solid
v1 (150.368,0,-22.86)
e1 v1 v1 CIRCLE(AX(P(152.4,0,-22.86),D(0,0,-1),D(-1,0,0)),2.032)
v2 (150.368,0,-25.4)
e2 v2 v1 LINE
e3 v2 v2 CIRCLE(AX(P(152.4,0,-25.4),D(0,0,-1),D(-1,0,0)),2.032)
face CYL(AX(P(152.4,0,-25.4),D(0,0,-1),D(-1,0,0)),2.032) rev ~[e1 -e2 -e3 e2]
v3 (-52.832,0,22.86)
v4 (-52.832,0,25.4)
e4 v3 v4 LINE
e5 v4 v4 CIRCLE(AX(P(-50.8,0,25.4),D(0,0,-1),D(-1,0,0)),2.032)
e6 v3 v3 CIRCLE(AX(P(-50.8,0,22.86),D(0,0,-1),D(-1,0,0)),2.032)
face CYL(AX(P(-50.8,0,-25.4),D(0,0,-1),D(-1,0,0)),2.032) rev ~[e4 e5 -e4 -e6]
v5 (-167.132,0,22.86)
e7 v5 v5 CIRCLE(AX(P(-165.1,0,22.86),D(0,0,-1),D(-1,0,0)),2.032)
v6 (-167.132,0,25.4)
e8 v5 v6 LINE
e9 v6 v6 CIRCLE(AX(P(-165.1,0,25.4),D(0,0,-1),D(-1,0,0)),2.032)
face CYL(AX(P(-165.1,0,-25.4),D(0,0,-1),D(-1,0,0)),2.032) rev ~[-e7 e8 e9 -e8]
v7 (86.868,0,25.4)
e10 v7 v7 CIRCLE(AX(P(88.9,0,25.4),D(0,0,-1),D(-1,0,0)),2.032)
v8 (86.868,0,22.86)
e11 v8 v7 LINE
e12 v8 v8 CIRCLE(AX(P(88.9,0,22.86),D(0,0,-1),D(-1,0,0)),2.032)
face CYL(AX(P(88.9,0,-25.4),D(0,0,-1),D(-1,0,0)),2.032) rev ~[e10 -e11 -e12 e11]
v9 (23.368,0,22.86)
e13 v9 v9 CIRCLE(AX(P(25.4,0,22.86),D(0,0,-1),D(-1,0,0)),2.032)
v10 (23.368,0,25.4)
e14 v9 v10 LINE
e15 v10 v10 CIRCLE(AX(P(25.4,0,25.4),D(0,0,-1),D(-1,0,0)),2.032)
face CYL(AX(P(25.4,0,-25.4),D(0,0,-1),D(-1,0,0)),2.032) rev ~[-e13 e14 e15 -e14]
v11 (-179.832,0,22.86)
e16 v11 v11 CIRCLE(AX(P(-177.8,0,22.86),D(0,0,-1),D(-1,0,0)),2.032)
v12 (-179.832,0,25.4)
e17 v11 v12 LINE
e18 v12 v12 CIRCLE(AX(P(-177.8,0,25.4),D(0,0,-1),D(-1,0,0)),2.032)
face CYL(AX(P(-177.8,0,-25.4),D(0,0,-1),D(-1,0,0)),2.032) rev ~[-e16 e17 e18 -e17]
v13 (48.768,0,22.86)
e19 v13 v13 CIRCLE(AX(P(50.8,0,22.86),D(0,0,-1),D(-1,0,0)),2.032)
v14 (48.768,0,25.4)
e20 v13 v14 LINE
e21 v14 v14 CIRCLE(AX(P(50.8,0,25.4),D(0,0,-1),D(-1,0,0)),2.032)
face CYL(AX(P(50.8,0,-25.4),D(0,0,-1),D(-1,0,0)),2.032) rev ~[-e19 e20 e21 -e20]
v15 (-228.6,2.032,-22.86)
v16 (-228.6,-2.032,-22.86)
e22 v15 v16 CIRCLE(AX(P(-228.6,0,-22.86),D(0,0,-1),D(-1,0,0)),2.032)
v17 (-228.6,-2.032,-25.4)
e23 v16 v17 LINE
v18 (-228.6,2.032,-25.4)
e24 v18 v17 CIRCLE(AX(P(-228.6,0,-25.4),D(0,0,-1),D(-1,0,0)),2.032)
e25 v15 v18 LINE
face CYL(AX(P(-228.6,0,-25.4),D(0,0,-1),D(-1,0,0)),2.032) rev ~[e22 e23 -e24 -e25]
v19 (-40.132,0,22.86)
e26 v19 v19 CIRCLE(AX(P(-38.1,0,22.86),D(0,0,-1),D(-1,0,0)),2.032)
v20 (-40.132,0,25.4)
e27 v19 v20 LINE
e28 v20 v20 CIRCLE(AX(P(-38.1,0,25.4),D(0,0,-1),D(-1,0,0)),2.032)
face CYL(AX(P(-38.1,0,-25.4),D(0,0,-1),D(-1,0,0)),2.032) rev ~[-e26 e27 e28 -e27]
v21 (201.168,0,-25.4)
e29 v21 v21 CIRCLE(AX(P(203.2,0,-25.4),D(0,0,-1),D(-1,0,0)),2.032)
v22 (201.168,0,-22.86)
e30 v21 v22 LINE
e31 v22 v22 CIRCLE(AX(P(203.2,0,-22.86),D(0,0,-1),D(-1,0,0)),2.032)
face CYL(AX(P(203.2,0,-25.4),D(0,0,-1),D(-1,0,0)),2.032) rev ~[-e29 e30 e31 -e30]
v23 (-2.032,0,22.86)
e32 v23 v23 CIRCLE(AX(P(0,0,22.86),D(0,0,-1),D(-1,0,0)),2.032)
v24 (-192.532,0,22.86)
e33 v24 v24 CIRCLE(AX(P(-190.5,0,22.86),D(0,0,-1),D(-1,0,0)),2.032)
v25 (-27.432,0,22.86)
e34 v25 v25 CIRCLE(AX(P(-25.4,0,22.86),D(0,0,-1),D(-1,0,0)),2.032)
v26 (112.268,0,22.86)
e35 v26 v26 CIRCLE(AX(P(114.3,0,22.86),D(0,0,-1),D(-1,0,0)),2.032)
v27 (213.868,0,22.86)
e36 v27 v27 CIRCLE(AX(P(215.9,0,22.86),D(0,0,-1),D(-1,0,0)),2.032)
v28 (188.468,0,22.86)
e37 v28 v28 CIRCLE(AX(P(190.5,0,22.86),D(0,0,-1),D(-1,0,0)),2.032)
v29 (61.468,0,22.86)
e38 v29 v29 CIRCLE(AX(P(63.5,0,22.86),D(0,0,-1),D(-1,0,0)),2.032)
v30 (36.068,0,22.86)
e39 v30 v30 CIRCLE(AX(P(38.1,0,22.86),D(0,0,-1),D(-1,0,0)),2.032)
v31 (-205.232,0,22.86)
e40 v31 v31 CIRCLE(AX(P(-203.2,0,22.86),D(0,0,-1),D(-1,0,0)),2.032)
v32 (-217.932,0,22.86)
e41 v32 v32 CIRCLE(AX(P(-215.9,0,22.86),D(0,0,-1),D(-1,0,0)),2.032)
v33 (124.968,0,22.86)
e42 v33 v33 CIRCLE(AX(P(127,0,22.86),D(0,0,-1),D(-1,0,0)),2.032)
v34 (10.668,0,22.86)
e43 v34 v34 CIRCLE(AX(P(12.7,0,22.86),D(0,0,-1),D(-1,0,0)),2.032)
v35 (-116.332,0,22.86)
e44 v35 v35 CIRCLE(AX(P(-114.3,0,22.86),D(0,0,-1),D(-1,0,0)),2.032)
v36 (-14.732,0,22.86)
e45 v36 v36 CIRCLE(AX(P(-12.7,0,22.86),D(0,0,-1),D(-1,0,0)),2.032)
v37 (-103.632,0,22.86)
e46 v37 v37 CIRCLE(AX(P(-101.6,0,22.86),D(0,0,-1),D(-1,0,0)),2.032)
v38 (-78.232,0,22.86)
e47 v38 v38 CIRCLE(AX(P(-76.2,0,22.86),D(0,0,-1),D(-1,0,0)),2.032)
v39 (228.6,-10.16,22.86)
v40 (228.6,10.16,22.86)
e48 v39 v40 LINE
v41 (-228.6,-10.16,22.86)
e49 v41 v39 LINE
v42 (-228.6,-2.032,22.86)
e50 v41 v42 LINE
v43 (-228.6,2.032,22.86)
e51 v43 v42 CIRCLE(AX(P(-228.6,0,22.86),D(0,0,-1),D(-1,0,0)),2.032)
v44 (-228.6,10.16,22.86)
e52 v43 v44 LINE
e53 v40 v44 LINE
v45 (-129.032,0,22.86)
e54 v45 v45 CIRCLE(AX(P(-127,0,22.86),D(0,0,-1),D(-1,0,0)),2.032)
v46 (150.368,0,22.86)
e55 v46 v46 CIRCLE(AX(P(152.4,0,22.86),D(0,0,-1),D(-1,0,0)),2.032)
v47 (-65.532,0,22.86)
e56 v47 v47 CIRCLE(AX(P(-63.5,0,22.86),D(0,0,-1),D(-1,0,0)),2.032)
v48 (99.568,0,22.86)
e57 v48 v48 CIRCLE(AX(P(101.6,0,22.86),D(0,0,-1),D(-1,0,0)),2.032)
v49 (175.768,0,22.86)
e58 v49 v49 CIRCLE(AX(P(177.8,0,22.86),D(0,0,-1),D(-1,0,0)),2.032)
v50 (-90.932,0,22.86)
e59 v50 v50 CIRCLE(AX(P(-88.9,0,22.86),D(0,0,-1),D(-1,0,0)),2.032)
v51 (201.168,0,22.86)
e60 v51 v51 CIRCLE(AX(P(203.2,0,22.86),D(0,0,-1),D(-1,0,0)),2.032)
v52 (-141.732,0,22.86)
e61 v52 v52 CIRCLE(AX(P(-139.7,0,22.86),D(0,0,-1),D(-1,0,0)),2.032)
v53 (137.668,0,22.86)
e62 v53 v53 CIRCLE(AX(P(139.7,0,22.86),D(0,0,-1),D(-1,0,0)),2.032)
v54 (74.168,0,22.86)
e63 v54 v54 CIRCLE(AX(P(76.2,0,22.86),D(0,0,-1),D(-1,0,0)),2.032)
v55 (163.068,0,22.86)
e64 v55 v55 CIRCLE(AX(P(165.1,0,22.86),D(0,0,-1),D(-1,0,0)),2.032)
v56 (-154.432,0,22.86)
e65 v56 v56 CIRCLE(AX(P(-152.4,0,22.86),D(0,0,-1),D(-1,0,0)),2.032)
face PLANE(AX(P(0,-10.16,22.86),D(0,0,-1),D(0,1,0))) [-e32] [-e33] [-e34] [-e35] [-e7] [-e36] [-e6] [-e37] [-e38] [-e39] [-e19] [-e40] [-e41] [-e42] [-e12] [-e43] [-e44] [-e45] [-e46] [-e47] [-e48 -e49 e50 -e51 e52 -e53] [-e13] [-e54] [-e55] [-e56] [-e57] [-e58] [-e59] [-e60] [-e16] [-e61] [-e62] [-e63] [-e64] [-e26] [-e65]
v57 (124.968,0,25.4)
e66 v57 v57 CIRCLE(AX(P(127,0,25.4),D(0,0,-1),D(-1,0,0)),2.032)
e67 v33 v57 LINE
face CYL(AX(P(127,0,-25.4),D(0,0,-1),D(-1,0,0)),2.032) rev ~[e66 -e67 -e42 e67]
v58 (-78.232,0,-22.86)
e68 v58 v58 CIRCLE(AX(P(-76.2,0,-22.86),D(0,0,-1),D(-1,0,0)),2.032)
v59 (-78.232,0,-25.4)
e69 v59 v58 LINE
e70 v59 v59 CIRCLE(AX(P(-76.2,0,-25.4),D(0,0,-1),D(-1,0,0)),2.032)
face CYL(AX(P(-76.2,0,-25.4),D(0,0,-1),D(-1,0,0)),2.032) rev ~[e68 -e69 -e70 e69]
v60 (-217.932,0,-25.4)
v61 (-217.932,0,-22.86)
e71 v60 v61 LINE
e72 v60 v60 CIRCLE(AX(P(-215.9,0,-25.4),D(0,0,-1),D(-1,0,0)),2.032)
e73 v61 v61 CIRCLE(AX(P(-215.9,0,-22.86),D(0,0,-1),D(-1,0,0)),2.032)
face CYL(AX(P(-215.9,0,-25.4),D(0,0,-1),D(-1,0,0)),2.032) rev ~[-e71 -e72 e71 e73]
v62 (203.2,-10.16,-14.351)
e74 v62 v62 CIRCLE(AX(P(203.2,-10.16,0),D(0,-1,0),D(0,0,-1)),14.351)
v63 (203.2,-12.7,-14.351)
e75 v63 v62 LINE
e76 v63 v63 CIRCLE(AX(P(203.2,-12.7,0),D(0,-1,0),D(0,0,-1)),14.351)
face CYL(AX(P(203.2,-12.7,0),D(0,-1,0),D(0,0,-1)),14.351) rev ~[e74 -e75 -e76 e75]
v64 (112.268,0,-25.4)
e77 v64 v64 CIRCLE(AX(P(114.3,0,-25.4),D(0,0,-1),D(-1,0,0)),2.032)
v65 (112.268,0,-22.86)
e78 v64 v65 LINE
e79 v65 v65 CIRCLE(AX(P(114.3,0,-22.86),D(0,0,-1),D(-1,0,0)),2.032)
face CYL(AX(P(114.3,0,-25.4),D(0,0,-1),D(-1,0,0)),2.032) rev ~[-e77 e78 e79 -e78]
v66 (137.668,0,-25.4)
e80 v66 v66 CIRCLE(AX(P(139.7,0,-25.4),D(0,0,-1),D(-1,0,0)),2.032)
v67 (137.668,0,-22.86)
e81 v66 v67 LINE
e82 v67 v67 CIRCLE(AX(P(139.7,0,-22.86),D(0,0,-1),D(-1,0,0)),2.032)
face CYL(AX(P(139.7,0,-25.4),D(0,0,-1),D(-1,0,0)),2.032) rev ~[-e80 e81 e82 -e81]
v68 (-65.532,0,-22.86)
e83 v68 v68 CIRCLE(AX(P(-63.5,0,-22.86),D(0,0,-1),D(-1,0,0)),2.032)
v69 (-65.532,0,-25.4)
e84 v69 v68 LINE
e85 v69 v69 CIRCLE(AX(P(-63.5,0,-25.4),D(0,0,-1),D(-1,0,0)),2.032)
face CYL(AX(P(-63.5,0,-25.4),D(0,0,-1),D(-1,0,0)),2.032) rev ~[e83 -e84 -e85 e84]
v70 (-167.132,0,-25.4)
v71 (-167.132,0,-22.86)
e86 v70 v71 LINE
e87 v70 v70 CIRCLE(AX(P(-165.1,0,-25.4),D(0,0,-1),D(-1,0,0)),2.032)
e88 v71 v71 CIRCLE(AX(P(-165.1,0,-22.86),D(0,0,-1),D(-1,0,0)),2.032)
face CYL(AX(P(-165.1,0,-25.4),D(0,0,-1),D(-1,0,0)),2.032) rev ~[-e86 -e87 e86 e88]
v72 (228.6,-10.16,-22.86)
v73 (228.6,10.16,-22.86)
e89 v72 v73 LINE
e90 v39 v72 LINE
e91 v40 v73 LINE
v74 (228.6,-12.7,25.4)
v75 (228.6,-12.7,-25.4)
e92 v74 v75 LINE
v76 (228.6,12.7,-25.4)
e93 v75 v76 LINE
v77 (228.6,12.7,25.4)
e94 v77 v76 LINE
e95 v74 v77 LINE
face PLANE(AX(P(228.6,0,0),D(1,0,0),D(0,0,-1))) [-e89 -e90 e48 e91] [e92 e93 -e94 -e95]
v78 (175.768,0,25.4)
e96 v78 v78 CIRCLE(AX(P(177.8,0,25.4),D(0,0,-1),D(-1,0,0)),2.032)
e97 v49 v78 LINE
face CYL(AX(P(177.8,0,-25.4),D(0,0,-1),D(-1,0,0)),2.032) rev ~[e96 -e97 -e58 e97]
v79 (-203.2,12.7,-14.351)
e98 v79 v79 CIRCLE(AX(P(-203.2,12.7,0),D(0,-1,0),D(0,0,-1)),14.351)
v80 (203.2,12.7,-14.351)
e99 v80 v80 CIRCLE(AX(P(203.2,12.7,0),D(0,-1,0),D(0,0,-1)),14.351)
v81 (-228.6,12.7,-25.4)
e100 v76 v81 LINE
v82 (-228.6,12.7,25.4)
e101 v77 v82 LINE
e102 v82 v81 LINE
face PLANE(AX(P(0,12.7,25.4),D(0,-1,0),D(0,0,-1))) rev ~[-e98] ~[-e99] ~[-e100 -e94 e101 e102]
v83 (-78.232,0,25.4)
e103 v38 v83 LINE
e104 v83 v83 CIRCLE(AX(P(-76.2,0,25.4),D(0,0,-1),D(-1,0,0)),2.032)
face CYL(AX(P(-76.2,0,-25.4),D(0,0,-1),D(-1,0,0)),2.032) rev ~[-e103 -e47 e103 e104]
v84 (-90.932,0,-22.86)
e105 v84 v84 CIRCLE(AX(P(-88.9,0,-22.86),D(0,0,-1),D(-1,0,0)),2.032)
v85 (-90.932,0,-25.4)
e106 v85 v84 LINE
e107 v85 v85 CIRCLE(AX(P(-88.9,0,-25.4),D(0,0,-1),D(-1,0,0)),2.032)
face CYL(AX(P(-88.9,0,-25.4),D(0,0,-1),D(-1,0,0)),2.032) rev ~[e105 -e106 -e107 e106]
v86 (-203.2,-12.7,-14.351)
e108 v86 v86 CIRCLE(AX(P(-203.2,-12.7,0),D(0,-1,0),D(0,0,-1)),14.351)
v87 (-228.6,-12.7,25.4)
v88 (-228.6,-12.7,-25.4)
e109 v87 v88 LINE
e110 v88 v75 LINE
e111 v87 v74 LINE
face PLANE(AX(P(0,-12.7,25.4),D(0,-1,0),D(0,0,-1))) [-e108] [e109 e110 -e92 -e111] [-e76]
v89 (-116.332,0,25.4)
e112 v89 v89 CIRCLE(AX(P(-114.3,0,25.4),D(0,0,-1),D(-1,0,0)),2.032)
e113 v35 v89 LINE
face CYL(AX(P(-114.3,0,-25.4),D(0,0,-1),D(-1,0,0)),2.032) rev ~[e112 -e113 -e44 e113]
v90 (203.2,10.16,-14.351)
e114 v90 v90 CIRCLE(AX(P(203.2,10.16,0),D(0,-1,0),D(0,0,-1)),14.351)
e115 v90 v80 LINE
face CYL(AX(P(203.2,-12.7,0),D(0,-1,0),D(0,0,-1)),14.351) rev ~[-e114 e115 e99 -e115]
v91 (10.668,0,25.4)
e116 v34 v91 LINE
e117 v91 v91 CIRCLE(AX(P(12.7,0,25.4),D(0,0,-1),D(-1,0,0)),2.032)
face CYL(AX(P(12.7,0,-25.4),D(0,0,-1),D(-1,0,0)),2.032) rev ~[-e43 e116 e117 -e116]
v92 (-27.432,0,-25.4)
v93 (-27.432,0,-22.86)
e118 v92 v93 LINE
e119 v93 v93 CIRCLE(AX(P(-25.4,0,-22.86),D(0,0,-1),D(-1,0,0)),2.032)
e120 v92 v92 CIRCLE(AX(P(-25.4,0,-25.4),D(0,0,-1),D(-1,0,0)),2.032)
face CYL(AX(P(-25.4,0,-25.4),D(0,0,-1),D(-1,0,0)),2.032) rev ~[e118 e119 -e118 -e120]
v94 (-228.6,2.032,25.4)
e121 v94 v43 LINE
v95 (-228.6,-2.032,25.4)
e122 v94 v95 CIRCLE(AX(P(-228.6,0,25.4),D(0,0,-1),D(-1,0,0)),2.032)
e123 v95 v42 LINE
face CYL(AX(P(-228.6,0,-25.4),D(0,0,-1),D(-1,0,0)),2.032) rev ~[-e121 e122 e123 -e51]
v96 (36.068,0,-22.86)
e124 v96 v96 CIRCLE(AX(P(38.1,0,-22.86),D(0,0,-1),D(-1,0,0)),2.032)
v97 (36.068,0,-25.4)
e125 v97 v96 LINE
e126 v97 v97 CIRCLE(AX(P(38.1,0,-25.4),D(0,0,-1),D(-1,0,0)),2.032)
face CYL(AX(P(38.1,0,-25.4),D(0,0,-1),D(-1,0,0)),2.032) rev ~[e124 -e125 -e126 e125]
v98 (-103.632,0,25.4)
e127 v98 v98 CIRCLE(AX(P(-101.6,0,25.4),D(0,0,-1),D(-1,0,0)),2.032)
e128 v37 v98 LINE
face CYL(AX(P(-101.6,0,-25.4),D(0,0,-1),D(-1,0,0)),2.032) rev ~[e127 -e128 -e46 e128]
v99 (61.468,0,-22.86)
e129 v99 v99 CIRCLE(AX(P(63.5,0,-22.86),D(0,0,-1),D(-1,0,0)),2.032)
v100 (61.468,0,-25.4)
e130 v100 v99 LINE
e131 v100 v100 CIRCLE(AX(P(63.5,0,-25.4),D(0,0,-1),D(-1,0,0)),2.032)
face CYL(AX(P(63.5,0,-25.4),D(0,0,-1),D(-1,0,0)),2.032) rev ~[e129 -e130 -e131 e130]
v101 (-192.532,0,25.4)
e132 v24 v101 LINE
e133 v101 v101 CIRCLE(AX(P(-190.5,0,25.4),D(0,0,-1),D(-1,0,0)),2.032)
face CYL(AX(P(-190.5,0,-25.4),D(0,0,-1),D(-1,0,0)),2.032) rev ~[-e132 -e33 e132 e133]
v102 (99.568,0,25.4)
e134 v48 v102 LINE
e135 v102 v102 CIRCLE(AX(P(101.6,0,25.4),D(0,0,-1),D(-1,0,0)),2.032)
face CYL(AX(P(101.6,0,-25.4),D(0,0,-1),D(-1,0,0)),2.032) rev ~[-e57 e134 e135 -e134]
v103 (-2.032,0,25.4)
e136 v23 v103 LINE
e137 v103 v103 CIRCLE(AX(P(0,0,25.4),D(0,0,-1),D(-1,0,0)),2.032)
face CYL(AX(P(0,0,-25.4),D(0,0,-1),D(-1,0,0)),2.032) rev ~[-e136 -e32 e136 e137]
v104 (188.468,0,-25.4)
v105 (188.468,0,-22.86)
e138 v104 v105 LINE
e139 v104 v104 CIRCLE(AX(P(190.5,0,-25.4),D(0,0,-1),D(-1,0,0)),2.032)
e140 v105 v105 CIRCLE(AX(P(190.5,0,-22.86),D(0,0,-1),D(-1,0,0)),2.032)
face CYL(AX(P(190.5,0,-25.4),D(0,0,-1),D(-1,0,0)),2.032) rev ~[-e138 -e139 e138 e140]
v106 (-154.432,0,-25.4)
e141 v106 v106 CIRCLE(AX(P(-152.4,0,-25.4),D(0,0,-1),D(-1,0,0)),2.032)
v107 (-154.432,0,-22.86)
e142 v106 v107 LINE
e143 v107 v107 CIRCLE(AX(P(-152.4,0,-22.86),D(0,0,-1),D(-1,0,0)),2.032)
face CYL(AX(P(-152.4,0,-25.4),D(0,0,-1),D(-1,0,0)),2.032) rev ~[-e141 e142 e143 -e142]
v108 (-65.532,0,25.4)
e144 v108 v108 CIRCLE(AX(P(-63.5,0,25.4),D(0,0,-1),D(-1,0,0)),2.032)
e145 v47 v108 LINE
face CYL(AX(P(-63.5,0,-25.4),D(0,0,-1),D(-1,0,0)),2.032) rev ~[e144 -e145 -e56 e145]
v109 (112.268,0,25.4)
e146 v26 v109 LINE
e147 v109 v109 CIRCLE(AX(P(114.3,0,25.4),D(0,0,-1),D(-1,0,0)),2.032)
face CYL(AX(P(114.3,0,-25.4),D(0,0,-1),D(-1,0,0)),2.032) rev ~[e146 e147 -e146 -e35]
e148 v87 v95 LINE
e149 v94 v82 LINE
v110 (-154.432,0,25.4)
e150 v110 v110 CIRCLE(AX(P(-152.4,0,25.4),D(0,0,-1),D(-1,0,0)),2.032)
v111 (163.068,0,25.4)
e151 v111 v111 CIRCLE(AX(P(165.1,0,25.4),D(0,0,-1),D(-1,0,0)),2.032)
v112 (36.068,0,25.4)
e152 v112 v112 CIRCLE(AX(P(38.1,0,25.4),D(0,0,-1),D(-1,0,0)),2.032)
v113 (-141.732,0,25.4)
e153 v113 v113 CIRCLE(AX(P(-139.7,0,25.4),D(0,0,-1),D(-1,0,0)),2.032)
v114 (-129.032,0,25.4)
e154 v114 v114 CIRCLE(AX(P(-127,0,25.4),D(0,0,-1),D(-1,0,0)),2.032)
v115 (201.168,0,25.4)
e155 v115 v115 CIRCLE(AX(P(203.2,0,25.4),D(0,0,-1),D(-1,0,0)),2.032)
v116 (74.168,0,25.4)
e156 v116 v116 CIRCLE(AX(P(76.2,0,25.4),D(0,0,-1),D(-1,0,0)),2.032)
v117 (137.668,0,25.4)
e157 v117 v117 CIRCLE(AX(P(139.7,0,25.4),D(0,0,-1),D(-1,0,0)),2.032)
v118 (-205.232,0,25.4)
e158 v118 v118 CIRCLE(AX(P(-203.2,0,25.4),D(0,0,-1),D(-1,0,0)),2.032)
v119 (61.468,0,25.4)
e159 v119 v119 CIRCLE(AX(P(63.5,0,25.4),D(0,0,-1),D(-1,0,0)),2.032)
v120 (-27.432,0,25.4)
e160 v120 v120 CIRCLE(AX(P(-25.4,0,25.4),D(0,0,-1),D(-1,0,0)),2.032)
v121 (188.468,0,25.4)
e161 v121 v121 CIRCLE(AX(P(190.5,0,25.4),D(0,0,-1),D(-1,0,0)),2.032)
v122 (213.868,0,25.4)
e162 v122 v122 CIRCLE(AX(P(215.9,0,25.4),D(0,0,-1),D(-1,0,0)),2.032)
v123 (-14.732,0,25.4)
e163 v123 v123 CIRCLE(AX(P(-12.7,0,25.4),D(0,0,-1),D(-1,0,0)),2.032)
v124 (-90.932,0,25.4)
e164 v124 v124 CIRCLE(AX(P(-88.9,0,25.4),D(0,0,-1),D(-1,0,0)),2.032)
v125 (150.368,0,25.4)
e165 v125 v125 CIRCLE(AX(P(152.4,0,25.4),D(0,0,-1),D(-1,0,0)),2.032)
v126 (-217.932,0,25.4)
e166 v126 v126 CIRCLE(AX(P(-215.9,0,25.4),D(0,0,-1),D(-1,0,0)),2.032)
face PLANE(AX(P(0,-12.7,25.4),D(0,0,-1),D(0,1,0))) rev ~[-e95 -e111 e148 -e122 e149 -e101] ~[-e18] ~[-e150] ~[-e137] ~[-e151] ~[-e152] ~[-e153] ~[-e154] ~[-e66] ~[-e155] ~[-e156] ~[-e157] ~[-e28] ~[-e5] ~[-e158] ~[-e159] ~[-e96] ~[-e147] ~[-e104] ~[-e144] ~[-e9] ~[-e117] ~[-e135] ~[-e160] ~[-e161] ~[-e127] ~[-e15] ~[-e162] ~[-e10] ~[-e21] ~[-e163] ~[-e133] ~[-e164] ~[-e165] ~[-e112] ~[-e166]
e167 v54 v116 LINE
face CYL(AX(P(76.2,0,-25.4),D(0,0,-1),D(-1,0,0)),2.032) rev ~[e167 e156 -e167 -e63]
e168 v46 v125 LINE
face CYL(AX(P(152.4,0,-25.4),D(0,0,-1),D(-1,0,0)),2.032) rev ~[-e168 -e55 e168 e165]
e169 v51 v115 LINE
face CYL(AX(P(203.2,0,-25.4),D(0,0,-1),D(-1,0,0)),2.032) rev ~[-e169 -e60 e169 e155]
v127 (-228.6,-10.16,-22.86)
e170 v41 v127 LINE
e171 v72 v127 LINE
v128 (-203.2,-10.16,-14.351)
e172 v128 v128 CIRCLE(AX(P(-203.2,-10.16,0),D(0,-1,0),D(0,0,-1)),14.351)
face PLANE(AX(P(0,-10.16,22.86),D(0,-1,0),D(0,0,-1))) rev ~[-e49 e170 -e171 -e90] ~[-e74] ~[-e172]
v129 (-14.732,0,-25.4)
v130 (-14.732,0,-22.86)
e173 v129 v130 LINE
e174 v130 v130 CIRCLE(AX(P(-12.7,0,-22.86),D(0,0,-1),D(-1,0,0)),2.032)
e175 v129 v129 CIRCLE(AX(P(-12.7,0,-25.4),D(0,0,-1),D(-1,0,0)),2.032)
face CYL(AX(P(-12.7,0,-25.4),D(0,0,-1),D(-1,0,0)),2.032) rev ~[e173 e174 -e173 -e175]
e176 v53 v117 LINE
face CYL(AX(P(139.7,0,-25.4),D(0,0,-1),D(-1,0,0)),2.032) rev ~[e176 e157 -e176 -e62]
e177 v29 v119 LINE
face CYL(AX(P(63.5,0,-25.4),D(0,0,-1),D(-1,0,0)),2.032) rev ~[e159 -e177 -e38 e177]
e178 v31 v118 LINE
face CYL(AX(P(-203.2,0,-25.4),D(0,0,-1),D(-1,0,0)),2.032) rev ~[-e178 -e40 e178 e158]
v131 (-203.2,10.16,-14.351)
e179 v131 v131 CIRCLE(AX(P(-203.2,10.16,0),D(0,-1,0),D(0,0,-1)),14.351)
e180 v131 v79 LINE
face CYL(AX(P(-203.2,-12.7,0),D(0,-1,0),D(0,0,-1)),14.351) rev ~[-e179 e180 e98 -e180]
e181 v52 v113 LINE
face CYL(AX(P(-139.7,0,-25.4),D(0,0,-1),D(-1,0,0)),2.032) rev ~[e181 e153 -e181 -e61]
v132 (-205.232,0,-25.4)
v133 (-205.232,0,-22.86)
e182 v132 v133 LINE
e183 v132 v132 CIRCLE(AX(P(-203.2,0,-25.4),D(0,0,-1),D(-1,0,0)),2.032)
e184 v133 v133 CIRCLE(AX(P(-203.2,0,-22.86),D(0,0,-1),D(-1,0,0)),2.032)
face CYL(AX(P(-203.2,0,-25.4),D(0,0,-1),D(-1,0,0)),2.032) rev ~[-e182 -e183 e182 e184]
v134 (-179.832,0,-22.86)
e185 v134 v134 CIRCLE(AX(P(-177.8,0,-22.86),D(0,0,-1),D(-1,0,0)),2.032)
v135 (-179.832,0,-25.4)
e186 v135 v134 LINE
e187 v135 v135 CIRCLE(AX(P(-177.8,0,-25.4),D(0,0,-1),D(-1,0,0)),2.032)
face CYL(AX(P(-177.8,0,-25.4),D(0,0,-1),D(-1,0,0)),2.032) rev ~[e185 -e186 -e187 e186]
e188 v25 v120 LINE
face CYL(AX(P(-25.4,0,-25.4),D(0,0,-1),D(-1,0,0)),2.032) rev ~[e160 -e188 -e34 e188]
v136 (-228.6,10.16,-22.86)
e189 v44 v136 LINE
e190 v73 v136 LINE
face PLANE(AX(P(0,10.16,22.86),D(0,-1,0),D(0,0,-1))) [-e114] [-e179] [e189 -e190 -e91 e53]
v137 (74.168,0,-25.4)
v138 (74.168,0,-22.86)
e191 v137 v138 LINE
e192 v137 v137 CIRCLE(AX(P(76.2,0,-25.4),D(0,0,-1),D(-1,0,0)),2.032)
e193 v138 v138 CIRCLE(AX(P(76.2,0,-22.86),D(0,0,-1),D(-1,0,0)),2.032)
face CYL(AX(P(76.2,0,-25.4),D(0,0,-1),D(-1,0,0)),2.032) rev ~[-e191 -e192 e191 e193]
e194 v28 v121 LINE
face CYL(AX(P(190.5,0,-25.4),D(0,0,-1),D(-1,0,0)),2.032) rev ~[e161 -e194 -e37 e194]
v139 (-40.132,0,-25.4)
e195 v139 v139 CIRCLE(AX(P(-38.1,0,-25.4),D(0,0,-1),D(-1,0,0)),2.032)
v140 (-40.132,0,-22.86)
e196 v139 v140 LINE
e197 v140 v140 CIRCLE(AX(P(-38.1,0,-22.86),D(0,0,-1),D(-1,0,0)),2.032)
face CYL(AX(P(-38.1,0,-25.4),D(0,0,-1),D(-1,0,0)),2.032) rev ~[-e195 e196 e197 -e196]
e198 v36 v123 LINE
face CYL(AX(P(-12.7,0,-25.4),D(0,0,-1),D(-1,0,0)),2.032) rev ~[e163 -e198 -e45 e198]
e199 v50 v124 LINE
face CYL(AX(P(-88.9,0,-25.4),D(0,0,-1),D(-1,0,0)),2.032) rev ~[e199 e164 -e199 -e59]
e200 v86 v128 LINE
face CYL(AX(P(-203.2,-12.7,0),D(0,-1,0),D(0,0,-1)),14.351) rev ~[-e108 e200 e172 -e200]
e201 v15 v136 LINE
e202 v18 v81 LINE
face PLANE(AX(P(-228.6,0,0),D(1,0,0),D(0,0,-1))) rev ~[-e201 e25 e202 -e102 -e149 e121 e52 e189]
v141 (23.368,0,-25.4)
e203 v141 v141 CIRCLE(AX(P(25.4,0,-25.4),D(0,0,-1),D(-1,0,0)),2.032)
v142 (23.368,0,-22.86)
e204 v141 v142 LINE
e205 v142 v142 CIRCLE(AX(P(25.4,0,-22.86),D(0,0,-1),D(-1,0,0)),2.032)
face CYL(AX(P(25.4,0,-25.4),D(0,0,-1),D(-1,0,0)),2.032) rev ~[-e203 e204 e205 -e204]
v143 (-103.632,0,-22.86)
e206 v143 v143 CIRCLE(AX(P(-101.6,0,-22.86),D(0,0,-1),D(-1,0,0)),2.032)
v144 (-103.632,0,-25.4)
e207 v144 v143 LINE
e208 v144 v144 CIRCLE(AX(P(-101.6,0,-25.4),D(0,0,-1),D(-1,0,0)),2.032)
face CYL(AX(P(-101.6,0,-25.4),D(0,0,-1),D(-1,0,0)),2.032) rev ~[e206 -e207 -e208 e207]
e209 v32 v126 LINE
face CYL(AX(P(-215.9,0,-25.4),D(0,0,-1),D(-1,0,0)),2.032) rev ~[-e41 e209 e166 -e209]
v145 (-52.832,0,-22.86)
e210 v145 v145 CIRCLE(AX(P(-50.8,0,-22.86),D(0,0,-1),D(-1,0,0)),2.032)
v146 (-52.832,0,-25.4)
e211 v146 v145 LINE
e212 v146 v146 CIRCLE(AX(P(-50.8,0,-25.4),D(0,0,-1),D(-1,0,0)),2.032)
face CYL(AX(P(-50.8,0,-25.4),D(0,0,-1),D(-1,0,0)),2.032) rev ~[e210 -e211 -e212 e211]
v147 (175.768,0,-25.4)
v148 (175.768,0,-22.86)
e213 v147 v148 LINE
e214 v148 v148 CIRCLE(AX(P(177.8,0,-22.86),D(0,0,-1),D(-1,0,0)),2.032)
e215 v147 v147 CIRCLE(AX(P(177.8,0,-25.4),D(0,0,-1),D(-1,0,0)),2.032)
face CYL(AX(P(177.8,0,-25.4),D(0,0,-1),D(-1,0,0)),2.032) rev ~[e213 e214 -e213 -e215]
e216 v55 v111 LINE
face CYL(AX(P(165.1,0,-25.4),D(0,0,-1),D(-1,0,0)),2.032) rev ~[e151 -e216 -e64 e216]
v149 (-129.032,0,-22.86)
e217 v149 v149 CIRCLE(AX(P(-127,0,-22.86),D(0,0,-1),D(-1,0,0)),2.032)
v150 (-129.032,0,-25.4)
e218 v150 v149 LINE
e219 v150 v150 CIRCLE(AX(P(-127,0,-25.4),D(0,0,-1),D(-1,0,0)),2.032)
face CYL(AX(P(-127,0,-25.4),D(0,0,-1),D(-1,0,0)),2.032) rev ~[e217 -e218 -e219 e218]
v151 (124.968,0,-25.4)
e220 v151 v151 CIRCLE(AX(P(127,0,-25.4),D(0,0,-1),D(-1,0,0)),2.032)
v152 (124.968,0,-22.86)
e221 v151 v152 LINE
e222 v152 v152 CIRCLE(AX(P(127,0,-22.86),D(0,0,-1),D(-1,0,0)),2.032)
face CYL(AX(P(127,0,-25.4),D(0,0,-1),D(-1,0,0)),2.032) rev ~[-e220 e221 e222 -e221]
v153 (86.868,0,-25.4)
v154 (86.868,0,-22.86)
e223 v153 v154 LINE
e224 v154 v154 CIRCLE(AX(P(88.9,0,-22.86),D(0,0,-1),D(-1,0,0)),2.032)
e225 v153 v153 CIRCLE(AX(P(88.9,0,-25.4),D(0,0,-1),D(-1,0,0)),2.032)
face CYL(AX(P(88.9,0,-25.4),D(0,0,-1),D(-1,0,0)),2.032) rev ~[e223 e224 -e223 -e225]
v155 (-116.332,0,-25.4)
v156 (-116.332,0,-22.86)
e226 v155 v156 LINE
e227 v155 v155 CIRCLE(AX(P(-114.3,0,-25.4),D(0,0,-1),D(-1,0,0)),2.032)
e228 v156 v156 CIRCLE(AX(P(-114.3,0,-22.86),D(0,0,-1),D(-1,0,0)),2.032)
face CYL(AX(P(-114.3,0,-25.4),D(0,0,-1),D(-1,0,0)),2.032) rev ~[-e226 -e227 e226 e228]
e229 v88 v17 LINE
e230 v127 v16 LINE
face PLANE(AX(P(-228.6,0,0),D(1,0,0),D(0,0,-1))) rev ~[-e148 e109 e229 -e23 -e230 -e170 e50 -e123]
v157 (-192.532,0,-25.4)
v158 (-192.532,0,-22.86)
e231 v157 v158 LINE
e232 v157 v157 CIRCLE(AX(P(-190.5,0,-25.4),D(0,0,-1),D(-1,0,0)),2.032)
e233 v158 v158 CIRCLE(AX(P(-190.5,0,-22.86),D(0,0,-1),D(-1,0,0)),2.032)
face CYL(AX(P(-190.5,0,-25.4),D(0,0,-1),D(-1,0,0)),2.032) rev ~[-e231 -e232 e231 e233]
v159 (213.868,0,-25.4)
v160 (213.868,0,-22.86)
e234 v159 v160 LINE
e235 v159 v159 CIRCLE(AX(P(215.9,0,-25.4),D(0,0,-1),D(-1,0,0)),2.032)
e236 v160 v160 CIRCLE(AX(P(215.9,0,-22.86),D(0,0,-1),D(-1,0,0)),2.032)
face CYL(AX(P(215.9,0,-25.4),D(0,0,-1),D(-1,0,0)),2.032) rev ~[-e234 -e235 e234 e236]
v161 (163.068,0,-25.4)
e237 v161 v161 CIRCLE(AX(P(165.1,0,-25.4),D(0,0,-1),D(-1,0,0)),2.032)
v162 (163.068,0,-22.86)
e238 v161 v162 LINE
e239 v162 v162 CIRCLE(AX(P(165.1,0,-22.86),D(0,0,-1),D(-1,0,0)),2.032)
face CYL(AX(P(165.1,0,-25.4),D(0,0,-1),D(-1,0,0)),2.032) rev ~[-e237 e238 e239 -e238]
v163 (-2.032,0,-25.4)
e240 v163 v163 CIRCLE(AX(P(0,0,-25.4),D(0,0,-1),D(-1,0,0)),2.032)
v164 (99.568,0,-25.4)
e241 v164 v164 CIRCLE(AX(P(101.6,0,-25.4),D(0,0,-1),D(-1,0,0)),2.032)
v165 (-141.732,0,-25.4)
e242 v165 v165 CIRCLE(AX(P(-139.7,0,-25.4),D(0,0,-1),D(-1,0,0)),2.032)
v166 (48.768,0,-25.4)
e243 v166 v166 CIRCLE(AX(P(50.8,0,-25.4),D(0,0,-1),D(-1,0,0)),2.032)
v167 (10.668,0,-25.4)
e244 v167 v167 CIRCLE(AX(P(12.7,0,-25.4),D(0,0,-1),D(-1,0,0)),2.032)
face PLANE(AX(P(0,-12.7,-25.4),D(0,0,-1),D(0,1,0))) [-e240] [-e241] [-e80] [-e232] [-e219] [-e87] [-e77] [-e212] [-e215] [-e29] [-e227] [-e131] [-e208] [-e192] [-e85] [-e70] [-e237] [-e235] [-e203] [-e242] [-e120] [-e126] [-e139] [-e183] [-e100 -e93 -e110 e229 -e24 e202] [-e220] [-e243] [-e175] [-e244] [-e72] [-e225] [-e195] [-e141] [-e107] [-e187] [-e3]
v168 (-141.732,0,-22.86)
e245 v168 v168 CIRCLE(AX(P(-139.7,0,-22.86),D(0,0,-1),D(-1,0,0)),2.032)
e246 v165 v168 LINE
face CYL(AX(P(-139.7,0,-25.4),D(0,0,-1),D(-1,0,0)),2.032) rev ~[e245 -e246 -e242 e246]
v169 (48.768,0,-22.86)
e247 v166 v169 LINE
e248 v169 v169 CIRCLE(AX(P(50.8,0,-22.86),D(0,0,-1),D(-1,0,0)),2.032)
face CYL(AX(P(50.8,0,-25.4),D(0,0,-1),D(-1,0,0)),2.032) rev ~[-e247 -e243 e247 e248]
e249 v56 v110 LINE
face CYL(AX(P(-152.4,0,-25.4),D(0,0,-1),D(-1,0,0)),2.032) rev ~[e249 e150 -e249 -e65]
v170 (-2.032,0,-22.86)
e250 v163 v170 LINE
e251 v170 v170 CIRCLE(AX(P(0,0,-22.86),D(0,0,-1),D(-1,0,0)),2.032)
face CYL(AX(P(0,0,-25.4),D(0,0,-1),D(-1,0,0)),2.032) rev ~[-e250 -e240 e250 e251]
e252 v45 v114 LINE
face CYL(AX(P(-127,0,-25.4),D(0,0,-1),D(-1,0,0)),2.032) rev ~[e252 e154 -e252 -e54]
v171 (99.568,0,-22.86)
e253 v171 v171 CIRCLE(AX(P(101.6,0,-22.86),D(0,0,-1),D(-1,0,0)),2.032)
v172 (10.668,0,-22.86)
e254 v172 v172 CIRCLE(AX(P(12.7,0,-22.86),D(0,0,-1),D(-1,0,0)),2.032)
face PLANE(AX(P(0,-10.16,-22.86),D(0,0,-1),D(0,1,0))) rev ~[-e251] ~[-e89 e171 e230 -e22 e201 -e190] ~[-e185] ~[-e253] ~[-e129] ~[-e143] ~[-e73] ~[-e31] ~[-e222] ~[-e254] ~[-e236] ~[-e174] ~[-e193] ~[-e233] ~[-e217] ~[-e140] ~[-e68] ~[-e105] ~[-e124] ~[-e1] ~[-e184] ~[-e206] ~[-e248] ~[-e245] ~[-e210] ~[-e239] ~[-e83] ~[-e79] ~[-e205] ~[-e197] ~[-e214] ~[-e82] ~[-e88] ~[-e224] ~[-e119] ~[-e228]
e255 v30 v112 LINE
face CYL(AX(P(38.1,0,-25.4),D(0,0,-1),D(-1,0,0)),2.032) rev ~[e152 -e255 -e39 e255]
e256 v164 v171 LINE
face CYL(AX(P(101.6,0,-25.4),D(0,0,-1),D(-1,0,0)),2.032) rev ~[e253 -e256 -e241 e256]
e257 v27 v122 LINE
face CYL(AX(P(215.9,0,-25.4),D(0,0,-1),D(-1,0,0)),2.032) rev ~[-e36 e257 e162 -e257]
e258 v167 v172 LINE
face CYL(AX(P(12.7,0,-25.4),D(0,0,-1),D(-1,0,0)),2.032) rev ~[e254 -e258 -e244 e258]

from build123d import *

# Parameters (mm, degrees)
SKETCH1_W           = 50.8
SKETCH1_H           = 25.4
SKETCH1_W_2         = 45.72
SKETCH1_H_2         = 20.32
BOSS_EXTRUDE1_DEPTH = 228.6
SKETCH3_R           = 14.351
CUT_EXTRUDE2_DEPTH  = 232.40501291
SKETCH4_R           = 2.032
CUT_EXTRUDE3_DEPTH  = 235.52055347


with BuildPart() as part:
    # Sketch1 → Boss-Extrude1 (new, symmetric)
    with BuildSketch(Plane(origin=(0, 0, 0), x_dir=(0, 0, -1), z_dir=(1, 0, 0))):
        Rectangle(SKETCH1_W, SKETCH1_H)
        Rectangle(SKETCH1_W_2, SKETCH1_H_2, mode=Mode.SUBTRACT)
    extrude(amount=BOSS_EXTRUDE1_DEPTH, both=True)

    # Sketch3 → Cut-Extrude2 (cut, through all)
    with BuildSketch(Plane.XZ.offset(12.7)):
        with Locations(Location((203.2, 0, 0), (0, 0, 270))):
            Circle(SKETCH3_R)
        with Locations(Location((-203.2, 0, 0), (0, 0, 270))):
            Circle(SKETCH3_R)
    extrude(amount=-CUT_EXTRUDE2_DEPTH, mode=Mode.SUBTRACT)

    # Sketch4 → Cut-Extrude3 (cut, through all)
    with BuildSketch(Plane(origin=(0, 0, -25.4), x_dir=(-1, 0, 0), z_dir=(0, 0, -1))):
        with Locations((-215.9, 0)):
            Circle(SKETCH4_R)
        with Locations((-203.2, 0)):
            Circle(SKETCH4_R)
        with Locations((-190.5, 0)):
            Circle(SKETCH4_R)
        with Locations((-177.8, 0)):
            Circle(SKETCH4_R)
        with Locations((-165.1, 0)):
            Circle(SKETCH4_R)
        with Locations((-152.4, 0)):
            Circle(SKETCH4_R)
        with Locations((-139.7, 0)):
            Circle(SKETCH4_R)
        with Locations((-127, 0)):
            Circle(SKETCH4_R)
        with Locations((-114.3, 0)):
            Circle(SKETCH4_R)
        with Locations((-101.6, 0)):
            Circle(SKETCH4_R)
        with Locations((-88.9, 0)):
            Circle(SKETCH4_R)
        with Locations((-76.2, 0)):
            Circle(SKETCH4_R)
        with Locations((-63.5, 0)):
            Circle(SKETCH4_R)
        with Locations((-50.8, 0)):
            Circle(SKETCH4_R)
        with Locations((-38.1, 0)):
            Circle(SKETCH4_R)
        with Locations((-25.4, 0)):
            Circle(SKETCH4_R)
        with Locations((-12.7, 0)):
            Circle(SKETCH4_R)
        Circle(SKETCH4_R)
        with Locations((12.7, 0)):
            Circle(SKETCH4_R)
        with Locations((25.4, 0)):
            Circle(SKETCH4_R)
        with Locations((38.1, 0)):
            Circle(SKETCH4_R)
        with Locations((50.8, 0)):
            Circle(SKETCH4_R)
        with Locations((63.5, 0)):
            Circle(SKETCH4_R)
        with Locations((76.2, 0)):
            Circle(SKETCH4_R)
        with Locations((88.9, 0)):
            Circle(SKETCH4_R)
        with Locations((101.6, 0)):
            Circle(SKETCH4_R)
        with Locations((114.3, 0)):
            Circle(SKETCH4_R)
        with Locations((127, 0)):
            Circle(SKETCH4_R)
        with Locations((139.7, 0)):
            Circle(SKETCH4_R)
        with Locations((152.4, 0)):
            Circle(SKETCH4_R)
        with Locations((165.1, 0)):
            Circle(SKETCH4_R)
        with Locations((177.8, 0)):
            Circle(SKETCH4_R)
        with Locations((190.5, 0)):
            Circle(SKETCH4_R)
        with Locations((203.2, 0)):
            Circle(SKETCH4_R)
        with Locations((215.9, 0)):
            Circle(SKETCH4_R)
        with Locations((228.6, 0)):
            Circle(SKETCH4_R)
    extrude(amount=-CUT_EXTRUDE3_DEPTH, mode=Mode.SUBTRACT)


solid = part.part
